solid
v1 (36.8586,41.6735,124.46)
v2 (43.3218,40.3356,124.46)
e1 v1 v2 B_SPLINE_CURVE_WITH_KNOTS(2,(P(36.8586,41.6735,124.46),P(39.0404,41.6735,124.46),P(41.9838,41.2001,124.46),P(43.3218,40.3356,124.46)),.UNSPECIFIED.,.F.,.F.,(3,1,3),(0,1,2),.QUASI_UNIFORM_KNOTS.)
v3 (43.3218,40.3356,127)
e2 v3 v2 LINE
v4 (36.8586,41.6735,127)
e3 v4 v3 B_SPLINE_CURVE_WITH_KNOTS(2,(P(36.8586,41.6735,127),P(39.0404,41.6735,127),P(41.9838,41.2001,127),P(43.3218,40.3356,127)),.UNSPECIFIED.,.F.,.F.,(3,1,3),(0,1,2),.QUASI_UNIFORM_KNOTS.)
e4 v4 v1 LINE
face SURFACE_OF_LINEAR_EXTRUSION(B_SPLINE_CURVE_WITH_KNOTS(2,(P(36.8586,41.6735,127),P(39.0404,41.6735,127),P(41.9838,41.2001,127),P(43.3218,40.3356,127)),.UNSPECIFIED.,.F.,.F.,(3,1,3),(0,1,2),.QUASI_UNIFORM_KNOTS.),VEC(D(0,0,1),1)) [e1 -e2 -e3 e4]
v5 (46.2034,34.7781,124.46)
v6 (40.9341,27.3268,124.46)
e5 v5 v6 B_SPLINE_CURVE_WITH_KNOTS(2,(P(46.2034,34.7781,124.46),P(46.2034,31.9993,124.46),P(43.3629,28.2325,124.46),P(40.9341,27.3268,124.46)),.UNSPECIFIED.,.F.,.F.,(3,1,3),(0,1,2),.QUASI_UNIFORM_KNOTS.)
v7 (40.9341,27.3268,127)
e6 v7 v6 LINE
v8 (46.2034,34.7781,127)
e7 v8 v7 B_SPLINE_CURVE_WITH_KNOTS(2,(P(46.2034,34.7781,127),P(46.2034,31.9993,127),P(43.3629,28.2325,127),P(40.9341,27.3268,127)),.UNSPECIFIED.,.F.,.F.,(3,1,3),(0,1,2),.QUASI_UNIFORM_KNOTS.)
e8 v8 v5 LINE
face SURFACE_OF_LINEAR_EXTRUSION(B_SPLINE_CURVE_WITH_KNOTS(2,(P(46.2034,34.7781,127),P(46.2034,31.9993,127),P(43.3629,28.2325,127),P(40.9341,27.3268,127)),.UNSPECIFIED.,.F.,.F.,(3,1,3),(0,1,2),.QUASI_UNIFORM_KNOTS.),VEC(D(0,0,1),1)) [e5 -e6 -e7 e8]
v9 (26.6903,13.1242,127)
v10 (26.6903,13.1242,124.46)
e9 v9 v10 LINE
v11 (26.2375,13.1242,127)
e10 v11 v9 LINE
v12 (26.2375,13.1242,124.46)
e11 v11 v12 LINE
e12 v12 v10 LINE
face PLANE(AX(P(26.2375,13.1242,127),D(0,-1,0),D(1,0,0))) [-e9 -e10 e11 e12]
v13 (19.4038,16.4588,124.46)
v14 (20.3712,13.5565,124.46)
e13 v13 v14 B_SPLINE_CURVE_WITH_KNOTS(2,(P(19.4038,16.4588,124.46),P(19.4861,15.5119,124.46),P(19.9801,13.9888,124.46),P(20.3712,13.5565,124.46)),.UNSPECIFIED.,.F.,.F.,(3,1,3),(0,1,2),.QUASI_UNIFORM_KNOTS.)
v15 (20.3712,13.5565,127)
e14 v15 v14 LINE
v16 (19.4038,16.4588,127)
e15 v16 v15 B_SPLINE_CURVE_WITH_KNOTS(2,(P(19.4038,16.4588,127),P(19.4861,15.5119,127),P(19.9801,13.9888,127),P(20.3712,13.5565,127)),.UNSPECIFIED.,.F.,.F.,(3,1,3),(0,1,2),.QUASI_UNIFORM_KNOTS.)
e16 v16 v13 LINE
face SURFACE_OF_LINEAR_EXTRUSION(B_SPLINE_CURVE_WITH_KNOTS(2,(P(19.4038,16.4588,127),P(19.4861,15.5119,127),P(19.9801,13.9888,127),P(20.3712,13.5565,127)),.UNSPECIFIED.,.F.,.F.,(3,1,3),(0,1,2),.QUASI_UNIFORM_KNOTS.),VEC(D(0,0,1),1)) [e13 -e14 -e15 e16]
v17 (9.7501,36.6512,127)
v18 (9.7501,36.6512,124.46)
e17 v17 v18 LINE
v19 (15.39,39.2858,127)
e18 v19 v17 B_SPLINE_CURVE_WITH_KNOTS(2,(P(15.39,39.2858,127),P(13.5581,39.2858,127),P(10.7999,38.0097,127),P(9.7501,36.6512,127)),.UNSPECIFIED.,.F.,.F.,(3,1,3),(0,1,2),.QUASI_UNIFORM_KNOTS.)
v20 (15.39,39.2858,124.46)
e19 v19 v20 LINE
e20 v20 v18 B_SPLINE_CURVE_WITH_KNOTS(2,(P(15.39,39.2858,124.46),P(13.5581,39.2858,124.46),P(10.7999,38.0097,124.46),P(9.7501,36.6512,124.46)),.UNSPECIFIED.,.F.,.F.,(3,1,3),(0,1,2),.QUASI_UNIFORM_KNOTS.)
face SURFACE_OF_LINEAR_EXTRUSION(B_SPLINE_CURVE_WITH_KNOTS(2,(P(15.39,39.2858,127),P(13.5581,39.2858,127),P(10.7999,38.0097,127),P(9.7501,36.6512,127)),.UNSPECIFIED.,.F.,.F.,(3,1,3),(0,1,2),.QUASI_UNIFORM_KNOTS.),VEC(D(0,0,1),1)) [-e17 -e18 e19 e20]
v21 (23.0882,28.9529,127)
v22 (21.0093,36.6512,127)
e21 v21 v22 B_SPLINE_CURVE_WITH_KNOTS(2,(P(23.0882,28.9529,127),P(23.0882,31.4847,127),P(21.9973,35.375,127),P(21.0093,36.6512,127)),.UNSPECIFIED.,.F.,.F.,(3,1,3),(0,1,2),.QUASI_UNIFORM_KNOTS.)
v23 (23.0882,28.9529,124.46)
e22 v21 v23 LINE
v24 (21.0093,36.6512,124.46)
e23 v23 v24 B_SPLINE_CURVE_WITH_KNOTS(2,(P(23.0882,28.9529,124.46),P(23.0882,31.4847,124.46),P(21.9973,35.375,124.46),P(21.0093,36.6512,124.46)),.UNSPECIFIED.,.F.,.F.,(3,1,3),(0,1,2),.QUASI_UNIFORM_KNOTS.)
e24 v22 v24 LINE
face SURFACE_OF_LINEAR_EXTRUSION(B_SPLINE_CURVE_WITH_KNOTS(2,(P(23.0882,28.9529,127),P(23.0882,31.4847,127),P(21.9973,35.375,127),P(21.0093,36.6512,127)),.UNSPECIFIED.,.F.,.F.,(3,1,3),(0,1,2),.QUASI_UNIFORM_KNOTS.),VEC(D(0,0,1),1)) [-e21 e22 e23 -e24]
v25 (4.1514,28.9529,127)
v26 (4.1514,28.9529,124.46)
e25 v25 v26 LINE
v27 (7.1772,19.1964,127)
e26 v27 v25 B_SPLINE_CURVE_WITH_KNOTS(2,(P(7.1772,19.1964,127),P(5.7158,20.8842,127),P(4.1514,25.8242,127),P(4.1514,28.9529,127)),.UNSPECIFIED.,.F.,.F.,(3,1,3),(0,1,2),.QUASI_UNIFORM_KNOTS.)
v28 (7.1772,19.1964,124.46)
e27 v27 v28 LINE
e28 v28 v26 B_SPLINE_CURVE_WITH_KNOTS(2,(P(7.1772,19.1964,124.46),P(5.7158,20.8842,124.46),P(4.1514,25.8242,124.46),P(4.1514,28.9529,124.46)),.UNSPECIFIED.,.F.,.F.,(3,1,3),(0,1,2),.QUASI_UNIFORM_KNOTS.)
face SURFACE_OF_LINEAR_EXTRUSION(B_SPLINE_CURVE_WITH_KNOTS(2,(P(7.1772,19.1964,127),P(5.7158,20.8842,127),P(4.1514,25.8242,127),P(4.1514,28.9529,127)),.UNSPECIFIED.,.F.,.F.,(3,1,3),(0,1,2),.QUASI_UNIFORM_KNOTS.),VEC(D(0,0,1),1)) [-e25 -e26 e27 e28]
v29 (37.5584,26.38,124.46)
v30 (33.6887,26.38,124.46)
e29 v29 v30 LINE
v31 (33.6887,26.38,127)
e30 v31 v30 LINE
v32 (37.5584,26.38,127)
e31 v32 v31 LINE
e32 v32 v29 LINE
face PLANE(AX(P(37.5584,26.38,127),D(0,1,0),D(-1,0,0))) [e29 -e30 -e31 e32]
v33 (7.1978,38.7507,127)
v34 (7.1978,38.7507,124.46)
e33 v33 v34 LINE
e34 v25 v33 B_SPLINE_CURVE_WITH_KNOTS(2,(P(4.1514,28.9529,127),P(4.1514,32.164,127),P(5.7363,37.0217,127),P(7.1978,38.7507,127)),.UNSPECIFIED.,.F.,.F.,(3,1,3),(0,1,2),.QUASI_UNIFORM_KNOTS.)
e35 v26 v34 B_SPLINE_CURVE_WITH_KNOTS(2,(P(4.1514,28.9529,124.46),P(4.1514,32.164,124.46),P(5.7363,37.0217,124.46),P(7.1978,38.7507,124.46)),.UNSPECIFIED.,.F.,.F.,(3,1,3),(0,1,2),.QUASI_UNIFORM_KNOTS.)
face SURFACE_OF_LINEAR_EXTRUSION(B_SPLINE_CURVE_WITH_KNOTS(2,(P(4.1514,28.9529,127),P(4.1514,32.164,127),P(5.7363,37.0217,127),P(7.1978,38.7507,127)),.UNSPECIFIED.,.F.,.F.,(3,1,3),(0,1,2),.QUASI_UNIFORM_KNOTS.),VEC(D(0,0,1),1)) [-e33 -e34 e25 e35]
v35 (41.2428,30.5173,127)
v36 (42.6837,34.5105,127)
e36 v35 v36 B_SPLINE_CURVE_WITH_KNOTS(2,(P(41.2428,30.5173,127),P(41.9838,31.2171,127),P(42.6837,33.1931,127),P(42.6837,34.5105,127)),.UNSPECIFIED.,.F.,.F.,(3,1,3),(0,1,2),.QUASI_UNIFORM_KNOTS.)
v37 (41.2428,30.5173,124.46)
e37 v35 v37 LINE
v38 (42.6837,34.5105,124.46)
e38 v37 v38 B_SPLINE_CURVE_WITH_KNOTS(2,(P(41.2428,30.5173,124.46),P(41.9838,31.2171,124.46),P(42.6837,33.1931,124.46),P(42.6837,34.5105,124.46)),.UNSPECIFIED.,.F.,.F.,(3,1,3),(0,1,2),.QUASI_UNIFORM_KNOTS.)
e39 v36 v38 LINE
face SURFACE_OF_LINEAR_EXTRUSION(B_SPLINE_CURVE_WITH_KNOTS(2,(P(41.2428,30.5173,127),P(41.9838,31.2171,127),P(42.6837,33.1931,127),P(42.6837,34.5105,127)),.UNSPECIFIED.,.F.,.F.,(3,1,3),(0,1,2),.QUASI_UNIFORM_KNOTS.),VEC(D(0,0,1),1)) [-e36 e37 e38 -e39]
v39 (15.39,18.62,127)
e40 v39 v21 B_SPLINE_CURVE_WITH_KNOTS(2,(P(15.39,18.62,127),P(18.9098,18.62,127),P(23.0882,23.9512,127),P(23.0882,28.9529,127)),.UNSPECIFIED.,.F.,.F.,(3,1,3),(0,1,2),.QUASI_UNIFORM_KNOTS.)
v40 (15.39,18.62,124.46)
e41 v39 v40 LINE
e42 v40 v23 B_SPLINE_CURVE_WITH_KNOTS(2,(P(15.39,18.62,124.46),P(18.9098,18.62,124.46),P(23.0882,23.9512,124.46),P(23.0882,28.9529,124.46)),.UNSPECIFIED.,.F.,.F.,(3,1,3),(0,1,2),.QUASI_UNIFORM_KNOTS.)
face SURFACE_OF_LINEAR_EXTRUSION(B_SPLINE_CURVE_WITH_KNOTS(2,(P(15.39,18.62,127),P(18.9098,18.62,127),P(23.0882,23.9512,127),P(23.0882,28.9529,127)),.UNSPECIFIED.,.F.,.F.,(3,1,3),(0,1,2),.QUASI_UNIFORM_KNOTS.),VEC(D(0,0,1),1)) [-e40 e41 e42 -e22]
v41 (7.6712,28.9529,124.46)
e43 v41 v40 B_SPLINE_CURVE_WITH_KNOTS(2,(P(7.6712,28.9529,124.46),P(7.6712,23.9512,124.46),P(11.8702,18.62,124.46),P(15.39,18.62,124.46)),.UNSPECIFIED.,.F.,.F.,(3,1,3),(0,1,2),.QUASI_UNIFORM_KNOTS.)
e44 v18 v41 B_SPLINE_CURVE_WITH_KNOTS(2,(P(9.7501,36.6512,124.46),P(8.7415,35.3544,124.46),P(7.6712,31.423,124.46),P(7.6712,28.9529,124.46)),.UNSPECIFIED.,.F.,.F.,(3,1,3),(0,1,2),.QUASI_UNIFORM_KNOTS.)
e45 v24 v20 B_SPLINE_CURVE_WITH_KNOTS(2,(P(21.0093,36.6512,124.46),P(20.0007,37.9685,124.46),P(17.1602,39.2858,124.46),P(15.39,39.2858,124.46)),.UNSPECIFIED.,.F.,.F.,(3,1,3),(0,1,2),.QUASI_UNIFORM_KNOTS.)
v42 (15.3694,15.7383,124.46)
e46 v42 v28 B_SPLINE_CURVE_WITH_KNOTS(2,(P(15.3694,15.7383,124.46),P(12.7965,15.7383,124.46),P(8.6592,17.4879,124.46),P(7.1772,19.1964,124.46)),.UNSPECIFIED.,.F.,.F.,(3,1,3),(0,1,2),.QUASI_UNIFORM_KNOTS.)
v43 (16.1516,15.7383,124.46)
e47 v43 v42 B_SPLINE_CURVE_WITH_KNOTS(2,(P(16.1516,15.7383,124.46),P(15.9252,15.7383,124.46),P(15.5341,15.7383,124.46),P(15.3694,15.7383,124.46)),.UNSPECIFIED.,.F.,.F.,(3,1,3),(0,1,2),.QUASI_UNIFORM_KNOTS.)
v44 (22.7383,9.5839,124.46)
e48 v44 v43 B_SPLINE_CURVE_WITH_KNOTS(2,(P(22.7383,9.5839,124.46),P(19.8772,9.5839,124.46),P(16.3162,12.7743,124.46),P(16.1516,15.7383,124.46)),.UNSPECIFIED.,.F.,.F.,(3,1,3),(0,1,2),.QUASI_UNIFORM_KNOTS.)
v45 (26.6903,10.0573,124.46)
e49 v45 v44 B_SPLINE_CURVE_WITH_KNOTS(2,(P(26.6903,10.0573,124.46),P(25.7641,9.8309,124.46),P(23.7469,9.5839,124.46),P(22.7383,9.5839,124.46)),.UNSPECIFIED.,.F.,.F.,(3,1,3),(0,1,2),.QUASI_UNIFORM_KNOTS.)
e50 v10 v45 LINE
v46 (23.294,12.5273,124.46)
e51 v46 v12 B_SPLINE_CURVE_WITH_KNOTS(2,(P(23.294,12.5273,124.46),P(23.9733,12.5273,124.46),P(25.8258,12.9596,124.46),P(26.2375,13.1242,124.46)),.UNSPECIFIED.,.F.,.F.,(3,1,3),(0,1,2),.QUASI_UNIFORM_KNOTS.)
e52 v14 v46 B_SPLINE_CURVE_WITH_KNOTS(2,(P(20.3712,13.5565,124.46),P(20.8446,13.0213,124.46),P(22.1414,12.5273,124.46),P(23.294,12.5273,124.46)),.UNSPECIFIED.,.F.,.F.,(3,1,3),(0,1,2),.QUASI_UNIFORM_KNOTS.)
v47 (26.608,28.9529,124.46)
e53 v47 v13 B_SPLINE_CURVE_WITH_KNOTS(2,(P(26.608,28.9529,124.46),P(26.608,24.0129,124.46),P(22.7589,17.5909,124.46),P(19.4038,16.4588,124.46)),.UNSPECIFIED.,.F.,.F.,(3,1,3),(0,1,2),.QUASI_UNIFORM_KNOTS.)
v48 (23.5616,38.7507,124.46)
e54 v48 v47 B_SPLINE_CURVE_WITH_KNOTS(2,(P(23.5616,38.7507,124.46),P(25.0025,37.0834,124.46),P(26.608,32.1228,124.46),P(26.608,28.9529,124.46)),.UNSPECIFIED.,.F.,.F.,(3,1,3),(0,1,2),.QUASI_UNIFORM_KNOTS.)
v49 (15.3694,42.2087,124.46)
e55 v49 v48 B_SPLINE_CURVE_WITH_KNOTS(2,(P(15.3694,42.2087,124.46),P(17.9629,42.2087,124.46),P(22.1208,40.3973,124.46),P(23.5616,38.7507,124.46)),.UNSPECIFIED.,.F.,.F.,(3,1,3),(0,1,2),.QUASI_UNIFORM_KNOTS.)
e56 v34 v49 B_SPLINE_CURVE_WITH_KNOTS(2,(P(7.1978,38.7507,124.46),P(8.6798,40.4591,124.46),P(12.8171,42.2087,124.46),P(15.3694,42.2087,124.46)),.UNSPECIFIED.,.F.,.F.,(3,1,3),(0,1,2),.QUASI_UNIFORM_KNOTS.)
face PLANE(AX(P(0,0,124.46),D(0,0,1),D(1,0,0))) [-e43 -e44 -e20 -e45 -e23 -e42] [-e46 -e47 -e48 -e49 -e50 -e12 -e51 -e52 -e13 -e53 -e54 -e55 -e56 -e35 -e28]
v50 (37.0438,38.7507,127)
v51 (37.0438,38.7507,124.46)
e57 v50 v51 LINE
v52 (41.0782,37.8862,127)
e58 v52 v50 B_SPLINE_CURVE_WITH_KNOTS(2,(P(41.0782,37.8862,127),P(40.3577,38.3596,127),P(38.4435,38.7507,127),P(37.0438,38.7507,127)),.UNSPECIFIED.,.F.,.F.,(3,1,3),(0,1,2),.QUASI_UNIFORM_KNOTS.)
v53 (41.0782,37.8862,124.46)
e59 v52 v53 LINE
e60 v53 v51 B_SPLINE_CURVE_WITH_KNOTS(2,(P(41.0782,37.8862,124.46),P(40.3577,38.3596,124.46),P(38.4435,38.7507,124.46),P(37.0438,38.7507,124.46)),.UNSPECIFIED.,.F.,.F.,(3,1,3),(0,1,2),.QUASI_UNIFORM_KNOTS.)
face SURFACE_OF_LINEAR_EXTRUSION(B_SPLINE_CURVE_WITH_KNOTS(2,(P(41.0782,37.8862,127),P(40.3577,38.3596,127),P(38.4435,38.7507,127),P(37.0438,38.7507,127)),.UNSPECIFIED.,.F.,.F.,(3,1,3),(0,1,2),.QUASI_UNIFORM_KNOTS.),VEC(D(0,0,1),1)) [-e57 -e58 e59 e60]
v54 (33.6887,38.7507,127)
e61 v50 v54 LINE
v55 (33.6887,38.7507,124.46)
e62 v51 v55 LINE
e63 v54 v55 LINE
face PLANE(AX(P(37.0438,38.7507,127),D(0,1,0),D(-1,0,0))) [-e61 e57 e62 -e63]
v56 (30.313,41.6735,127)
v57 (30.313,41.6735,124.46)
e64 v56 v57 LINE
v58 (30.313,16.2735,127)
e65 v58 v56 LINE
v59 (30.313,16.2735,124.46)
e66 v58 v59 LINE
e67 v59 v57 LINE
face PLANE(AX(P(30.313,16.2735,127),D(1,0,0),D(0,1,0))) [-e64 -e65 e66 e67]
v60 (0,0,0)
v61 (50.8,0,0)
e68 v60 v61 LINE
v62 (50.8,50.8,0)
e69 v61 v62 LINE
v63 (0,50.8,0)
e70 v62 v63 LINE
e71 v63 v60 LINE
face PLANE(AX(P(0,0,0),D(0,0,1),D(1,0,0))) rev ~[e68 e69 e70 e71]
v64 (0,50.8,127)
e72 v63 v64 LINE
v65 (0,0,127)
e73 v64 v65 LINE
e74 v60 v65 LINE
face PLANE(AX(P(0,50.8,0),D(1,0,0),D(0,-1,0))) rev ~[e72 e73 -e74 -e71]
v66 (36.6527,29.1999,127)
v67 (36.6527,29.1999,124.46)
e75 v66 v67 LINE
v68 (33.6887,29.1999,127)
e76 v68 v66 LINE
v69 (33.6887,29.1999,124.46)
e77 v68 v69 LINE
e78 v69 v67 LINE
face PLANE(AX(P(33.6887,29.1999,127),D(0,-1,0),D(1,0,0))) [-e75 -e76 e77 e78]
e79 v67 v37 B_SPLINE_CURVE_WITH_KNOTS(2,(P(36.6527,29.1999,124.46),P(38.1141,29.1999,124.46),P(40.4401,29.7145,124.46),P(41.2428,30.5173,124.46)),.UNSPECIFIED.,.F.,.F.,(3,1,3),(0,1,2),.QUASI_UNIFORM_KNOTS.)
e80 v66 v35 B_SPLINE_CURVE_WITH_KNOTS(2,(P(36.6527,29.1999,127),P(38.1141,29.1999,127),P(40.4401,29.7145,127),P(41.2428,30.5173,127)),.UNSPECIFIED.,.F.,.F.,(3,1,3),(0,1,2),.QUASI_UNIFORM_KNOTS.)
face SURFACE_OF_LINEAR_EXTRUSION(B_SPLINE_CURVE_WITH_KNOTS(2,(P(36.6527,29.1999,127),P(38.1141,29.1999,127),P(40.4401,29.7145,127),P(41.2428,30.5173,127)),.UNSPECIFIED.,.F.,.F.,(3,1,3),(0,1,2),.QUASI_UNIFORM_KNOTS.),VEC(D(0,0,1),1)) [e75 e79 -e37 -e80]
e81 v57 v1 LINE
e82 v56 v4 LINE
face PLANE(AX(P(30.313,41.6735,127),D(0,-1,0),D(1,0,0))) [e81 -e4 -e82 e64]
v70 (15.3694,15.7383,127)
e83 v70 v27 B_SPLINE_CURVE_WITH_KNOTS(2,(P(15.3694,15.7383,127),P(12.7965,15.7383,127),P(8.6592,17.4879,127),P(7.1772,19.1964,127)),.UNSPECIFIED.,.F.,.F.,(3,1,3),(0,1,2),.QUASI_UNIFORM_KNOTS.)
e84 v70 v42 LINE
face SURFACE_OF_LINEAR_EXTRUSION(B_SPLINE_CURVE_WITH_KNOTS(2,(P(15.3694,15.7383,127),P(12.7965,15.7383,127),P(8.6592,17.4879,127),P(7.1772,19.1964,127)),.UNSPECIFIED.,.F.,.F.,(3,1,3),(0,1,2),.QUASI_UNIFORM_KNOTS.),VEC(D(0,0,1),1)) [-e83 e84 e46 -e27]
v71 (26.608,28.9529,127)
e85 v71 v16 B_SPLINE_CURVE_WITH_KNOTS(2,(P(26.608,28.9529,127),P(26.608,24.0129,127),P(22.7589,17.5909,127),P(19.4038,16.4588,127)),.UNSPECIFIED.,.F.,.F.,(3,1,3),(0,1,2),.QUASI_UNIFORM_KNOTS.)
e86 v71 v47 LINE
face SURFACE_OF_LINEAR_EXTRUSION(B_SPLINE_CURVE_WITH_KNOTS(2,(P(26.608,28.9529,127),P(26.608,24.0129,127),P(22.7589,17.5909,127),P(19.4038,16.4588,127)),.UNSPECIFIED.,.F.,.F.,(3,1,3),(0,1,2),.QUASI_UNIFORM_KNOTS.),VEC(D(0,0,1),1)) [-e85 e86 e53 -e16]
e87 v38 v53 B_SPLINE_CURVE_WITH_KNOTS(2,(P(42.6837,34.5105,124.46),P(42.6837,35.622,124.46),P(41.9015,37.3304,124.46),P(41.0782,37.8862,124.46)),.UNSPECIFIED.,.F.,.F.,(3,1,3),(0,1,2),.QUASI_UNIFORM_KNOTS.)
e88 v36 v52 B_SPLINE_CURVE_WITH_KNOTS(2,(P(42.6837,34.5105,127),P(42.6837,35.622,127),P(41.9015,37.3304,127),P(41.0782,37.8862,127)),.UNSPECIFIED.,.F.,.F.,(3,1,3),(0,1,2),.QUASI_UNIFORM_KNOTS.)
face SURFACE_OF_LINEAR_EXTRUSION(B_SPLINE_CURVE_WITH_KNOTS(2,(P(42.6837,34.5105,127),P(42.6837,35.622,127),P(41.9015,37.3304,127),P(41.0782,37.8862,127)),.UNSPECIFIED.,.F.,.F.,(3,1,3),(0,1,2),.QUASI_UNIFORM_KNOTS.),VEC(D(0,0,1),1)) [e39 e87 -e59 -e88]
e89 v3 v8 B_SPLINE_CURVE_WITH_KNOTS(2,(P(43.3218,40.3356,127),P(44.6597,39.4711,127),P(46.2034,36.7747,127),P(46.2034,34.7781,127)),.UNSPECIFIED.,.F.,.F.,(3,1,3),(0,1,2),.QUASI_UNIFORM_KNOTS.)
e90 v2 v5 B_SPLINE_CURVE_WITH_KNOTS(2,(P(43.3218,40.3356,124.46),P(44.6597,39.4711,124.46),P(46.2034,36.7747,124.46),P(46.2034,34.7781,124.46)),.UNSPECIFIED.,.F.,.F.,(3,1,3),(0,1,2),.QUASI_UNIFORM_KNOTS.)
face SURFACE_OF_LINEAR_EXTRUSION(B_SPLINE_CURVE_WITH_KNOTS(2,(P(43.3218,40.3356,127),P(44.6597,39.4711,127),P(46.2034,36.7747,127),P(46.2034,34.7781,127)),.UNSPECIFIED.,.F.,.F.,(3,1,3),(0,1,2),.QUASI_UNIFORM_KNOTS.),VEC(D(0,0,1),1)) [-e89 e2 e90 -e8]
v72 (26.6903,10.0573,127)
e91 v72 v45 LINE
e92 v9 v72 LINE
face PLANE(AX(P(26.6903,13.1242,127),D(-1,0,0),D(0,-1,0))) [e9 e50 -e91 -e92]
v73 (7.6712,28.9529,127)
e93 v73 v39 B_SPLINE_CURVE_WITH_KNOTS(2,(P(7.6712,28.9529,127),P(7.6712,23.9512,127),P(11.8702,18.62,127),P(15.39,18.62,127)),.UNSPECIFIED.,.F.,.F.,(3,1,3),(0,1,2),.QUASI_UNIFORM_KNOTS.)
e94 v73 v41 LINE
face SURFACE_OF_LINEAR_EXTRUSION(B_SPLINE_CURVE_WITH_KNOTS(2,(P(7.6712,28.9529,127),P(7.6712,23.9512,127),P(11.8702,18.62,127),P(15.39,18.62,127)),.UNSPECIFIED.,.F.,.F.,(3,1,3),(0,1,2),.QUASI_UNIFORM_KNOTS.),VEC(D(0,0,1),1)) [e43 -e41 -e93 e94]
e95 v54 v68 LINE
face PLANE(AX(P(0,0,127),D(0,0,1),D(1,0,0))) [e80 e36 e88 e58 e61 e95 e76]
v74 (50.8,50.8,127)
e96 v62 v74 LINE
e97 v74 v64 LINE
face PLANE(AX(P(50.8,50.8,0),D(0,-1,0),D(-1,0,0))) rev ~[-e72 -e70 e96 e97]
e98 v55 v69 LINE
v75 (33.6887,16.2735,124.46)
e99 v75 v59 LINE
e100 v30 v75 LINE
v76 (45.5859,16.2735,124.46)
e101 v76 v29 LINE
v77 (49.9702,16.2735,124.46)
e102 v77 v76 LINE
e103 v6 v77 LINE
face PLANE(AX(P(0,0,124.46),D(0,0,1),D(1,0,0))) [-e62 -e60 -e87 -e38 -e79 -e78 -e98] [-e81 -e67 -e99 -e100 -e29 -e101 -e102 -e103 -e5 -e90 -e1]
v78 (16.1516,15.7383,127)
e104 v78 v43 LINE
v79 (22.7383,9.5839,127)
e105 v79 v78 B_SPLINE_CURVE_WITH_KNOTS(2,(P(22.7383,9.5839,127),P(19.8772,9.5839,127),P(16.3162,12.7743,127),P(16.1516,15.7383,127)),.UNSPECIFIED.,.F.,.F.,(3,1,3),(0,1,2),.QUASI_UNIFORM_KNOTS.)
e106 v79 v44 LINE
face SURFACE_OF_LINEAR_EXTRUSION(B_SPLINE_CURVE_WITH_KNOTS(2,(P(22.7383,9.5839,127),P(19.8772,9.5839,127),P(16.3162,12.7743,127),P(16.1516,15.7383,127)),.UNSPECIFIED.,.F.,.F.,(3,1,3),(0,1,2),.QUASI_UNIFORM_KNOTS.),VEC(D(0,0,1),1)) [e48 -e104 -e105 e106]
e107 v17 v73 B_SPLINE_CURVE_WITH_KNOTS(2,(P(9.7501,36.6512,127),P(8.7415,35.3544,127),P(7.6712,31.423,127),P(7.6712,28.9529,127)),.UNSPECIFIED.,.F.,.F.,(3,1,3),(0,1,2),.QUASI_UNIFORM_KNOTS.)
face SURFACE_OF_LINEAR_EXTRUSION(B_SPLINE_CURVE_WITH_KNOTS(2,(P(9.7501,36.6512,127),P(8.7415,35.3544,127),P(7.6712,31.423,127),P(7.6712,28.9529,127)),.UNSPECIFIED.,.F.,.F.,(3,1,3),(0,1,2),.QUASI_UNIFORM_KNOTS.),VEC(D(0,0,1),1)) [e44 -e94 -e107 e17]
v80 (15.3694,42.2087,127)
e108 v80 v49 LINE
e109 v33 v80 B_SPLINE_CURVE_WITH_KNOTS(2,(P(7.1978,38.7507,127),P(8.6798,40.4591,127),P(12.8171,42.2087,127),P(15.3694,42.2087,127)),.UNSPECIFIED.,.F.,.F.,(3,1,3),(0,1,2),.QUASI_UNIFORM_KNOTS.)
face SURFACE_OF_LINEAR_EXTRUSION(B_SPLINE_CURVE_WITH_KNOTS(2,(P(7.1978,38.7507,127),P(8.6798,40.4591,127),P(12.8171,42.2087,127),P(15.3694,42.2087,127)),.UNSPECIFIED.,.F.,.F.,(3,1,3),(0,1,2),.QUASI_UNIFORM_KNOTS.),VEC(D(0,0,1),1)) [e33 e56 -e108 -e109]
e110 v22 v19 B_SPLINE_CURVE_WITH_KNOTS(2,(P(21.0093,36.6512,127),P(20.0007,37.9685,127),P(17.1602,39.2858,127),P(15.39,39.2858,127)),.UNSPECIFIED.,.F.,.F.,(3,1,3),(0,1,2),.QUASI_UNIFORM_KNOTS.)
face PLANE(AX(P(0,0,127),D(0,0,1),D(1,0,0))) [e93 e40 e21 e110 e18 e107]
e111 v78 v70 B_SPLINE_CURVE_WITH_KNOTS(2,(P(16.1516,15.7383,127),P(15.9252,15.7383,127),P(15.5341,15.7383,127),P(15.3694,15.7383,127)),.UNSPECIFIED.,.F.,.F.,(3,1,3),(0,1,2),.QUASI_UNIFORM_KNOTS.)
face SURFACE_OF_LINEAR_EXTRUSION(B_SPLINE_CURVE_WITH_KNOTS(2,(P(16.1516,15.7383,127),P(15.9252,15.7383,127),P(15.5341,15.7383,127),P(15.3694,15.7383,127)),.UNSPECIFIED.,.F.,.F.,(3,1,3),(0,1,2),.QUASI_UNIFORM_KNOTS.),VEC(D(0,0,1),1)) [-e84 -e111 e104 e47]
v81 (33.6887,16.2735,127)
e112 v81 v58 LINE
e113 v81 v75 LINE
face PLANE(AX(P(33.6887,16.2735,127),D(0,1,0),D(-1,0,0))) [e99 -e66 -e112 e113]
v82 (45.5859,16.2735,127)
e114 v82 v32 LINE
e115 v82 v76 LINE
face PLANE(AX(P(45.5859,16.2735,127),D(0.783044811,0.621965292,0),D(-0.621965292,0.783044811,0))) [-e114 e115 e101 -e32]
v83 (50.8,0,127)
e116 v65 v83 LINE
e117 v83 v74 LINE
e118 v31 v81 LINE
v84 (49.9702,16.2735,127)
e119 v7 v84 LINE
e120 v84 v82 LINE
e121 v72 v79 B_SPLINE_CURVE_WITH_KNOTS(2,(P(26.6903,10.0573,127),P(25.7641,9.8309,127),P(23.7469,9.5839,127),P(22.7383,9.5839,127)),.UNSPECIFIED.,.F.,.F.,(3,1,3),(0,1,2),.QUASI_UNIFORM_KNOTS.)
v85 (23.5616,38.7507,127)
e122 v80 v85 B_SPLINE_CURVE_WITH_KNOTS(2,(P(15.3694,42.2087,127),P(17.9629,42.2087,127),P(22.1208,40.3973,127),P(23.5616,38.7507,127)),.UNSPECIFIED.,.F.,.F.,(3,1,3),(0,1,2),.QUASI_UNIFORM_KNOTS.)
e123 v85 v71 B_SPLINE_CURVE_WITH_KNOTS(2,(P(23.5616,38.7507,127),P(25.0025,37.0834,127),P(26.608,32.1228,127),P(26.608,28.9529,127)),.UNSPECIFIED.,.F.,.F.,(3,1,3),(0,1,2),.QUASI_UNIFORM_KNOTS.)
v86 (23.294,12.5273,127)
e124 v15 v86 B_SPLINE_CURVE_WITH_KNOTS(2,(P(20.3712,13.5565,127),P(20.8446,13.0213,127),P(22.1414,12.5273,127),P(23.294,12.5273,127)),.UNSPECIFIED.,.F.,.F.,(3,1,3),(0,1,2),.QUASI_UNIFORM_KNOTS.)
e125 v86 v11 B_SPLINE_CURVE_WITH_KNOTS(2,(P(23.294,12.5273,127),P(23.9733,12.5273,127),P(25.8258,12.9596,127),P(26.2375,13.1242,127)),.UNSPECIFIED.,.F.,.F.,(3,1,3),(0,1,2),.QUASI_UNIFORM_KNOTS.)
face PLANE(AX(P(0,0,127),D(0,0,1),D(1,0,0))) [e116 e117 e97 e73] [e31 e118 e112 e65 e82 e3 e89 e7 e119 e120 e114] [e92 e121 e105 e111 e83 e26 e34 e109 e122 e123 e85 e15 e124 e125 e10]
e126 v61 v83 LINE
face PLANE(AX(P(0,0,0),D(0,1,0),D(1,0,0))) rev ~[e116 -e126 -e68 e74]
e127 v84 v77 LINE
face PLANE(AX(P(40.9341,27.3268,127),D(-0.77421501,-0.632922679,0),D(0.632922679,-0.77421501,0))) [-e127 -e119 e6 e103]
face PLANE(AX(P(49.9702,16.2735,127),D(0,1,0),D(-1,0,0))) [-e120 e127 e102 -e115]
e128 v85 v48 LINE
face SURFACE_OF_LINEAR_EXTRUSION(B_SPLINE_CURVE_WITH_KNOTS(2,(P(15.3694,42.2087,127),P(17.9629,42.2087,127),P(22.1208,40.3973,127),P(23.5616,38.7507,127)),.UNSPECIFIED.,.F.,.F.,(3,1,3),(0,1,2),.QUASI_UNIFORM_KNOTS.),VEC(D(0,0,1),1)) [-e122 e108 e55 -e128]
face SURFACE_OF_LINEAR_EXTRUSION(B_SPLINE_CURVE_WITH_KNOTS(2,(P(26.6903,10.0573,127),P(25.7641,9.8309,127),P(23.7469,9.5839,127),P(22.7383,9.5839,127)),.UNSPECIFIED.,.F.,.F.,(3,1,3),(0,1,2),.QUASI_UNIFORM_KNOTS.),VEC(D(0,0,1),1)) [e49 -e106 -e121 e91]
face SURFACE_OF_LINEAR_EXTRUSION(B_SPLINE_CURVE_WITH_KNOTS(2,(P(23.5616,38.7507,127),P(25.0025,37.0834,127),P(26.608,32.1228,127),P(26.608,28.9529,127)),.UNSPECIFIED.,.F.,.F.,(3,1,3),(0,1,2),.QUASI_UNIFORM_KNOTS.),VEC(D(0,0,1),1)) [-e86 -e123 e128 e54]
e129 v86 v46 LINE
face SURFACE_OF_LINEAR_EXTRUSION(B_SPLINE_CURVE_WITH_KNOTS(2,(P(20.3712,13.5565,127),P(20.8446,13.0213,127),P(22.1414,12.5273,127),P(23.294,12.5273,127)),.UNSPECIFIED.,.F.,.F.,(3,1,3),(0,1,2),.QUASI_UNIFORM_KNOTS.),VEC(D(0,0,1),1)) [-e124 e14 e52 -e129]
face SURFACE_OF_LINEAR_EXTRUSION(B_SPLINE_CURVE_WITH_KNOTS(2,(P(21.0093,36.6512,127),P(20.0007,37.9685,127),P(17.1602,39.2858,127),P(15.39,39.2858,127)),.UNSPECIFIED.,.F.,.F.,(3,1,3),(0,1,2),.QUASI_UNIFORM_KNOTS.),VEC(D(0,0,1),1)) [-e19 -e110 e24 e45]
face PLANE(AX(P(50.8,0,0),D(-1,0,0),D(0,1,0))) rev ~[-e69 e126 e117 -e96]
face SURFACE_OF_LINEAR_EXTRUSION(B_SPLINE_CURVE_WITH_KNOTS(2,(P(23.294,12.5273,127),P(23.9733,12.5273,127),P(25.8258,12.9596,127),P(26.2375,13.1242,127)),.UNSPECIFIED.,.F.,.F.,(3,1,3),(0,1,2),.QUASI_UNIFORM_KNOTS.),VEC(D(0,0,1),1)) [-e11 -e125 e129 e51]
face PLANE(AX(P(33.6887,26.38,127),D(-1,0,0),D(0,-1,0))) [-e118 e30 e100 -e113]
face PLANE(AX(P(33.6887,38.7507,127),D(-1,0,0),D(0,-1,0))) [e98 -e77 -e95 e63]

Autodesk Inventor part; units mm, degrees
ref_plane "YZ Plane" through (0, 0, 0) normal (1, 0, 0) x (0, 1, 0)
ref_plane "XZ Plane" through (0, 0, 0) normal (0, 1, 0) x (-1, 0, 0)
ref_plane "XY Plane" through (0, 0, 0) normal (0, 0, 1) x (1, 0, 0)
sketch "Sketch1" plane through (0, 0, 0) normal (0, 0, 1) x (1, 0, 0)
  line L0 (0, 0) -> (50.8, 0)
  line L1 (50.8, 0) -> (50.8, 50.8)
  line L2 (50.8, 50.8) -> (0, 50.8)
  line L3 (0, 50.8) -> (0, 0)
  dimension "d0" = 50.8
  dimension "d1" = 50.8
extrude "Extrusion1" add sketch "Sketch1" along normal blind 127
sketch "Sketch2" plane through (0, 0, 127) normal (0, 0, 1) x (1, 0, 0)
  line L0 (3.0193, 42.2087) -> (49.4145, 42.2087) construction
  line L1 (49.4145, 42.2087) -> (49.4145, 9.5839) construction
  line L2 (49.4145, 9.5839) -> (3.0193, 9.5839) construction
  line L3 (3.0193, 9.5839) -> (3.0193, 42.2087) construction
  spline S0 degree 2 poles (26.6903, 10.0573) (25.7641, 9.8309) (23.7469, 9.5839) (22.7383, 9.5839) knots 0 0 0 1 2 2 2
  spline S1 degree 2 poles (22.7383, 9.5839) (19.8772, 9.5839) (16.3162, 12.7743) (16.1516, 15.7383) knots 0 0 0 1 2 2 2
  spline S2 degree 2 poles (16.1516, 15.7383) (15.9252, 15.7383) (15.5341, 15.7383) (15.3694, 15.7383) knots 0 0 0 1 2 2 2
  spline S3 degree 2 poles (15.3694, 15.7383) (12.7965, 15.7383) (8.6592, 17.4879) (7.1772, 19.1964) knots 0 0 0 1 2 2 2
  spline S4 degree 2 poles (7.1772, 19.1964) (5.7158, 20.8842) (4.1514, 25.8242) (4.1514, 28.9529) knots 0 0 0 1 2 2 2
  spline S5 degree 2 poles (4.1514, 28.9529) (4.1514, 32.164) (5.7363, 37.0217) (7.1978, 38.7507) knots 0 0 0 1 2 2 2
  spline S6 degree 2 poles (7.1978, 38.7507) (8.6798, 40.4591) (12.8171, 42.2087) (15.3694, 42.2087) knots 0 0 0 1 2 2 2
  spline S7 degree 2 poles (15.3694, 42.2087) (17.9629, 42.2087) (22.1208, 40.3973) (23.5616, 38.7507) knots 0 0 0 1 2 2 2
  spline S8 degree 2 poles (23.5616, 38.7507) (25.0025, 37.0834) (26.608, 32.1228) (26.608, 28.9529) knots 0 0 0 1 2 2 2
  spline S9 degree 2 poles (26.608, 28.9529) (26.608, 24.0129) (22.7589, 17.5909) (19.4038, 16.4588) knots 0 0 0 1 2 2 2
  spline S10 degree 2 poles (19.4038, 16.4588) (19.4861, 15.5119) (19.9801, 13.9888) (20.3712, 13.5565) knots 0 0 0 1 2 2 2
  spline S11 degree 2 poles (20.3712, 13.5565) (20.8446, 13.0213) (22.1414, 12.5273) (23.294, 12.5273) knots 0 0 0 1 2 2 2
  spline S12 degree 2 poles (23.294, 12.5273) (23.9733, 12.5273) (25.8258, 12.9596) (26.2375, 13.1242) knots 0 0 0 1 2 2 2
  line L4 (26.2375, 13.1242) -> (26.6903, 13.1242)
  line L5 (26.6903, 13.1242) -> (26.6903, 10.0573)
  spline S13 degree 2 poles (23.0882, 28.9529) (23.0882, 31.4847) (21.9973, 35.375) (21.0093, 36.6512) knots 0 0 0 1 2 2 2
  spline S14 degree 2 poles (21.0093, 36.6512) (20.0007, 37.9685) (17.1602, 39.2858) (15.39, 39.2858) knots 0 0 0 1 2 2 2
  spline S15 degree 2 poles (15.39, 39.2858) (13.5581, 39.2858) (10.7999, 38.0097) (9.7501, 36.6512) knots 0 0 0 1 2 2 2
  spline S16 degree 2 poles (9.7501, 36.6512) (8.7415, 35.3544) (7.6712, 31.423) (7.6712, 28.9529) knots 0 0 0 1 2 2 2
  spline S17 degree 2 poles (7.6712, 28.9529) (7.6712, 23.9512) (11.8702, 18.62) (15.39, 18.62) knots 0 0 0 1 2 2 2
  spline S18 degree 2 poles (15.39, 18.62) (18.9098, 18.62) (23.0882, 23.9512) (23.0882, 28.9529) knots 0 0 0 1 2 2 2
  line L6 (49.9702, 16.2735) -> (45.5859, 16.2735)
  line L7 (45.5859, 16.2735) -> (37.5584, 26.38)
  line L8 (37.5584, 26.38) -> (33.6887, 26.38)
  line L9 (33.6887, 26.38) -> (33.6887, 16.2735)
  line L10 (33.6887, 16.2735) -> (30.313, 16.2735)
  line L11 (30.313, 16.2735) -> (30.313, 41.6735)
  line L12 (30.313, 41.6735) -> (36.8586, 41.6735)
  spline S19 degree 2 poles (36.8586, 41.6735) (39.0404, 41.6735) (41.9838, 41.2001) (43.3218, 40.3356) knots 0 0 0 1 2 2 2
  spline S20 degree 2 poles (43.3218, 40.3356) (44.6597, 39.4711) (46.2034, 36.7747) (46.2034, 34.7781) knots 0 0 0 1 2 2 2
  spline S21 degree 2 poles (46.2034, 34.7781) (46.2034, 31.9993) (43.3629, 28.2325) (40.9341, 27.3268) knots 0 0 0 1 2 2 2
  line L13 (40.9341, 27.3268) -> (49.9702, 16.2735)
  spline S22 degree 2 poles (42.6837, 34.5105) (42.6837, 35.622) (41.9015, 37.3304) (41.0782, 37.8862) knots 0 0 0 1 2 2 2
  spline S23 degree 2 poles (41.0782, 37.8862) (40.3577, 38.3596) (38.4435, 38.7507) (37.0438, 38.7507) knots 0 0 0 1 2 2 2
  line L14 (37.0438, 38.7507) -> (33.6887, 38.7507)
  line L15 (33.6887, 38.7507) -> (33.6887, 29.1999)
  line L16 (33.6887, 29.1999) -> (36.6527, 29.1999)
  spline S24 degree 2 poles (36.6527, 29.1999) (38.1141, 29.1999) (40.4401, 29.7145) (41.2428, 30.5173) knots 0 0 0 1 2 2 2
  spline S25 degree 2 poles (41.2428, 30.5173) (41.9838, 31.2171) (42.6837, 33.1931) (42.6837, 34.5105) knots 0 0 0 1 2 2 2
  point P0 (0, 0)
extrude "Extrusion2" cut sketch "Sketch2" against normal blind 2.54
properties part number "Container 2 2 5 QR color 3"
